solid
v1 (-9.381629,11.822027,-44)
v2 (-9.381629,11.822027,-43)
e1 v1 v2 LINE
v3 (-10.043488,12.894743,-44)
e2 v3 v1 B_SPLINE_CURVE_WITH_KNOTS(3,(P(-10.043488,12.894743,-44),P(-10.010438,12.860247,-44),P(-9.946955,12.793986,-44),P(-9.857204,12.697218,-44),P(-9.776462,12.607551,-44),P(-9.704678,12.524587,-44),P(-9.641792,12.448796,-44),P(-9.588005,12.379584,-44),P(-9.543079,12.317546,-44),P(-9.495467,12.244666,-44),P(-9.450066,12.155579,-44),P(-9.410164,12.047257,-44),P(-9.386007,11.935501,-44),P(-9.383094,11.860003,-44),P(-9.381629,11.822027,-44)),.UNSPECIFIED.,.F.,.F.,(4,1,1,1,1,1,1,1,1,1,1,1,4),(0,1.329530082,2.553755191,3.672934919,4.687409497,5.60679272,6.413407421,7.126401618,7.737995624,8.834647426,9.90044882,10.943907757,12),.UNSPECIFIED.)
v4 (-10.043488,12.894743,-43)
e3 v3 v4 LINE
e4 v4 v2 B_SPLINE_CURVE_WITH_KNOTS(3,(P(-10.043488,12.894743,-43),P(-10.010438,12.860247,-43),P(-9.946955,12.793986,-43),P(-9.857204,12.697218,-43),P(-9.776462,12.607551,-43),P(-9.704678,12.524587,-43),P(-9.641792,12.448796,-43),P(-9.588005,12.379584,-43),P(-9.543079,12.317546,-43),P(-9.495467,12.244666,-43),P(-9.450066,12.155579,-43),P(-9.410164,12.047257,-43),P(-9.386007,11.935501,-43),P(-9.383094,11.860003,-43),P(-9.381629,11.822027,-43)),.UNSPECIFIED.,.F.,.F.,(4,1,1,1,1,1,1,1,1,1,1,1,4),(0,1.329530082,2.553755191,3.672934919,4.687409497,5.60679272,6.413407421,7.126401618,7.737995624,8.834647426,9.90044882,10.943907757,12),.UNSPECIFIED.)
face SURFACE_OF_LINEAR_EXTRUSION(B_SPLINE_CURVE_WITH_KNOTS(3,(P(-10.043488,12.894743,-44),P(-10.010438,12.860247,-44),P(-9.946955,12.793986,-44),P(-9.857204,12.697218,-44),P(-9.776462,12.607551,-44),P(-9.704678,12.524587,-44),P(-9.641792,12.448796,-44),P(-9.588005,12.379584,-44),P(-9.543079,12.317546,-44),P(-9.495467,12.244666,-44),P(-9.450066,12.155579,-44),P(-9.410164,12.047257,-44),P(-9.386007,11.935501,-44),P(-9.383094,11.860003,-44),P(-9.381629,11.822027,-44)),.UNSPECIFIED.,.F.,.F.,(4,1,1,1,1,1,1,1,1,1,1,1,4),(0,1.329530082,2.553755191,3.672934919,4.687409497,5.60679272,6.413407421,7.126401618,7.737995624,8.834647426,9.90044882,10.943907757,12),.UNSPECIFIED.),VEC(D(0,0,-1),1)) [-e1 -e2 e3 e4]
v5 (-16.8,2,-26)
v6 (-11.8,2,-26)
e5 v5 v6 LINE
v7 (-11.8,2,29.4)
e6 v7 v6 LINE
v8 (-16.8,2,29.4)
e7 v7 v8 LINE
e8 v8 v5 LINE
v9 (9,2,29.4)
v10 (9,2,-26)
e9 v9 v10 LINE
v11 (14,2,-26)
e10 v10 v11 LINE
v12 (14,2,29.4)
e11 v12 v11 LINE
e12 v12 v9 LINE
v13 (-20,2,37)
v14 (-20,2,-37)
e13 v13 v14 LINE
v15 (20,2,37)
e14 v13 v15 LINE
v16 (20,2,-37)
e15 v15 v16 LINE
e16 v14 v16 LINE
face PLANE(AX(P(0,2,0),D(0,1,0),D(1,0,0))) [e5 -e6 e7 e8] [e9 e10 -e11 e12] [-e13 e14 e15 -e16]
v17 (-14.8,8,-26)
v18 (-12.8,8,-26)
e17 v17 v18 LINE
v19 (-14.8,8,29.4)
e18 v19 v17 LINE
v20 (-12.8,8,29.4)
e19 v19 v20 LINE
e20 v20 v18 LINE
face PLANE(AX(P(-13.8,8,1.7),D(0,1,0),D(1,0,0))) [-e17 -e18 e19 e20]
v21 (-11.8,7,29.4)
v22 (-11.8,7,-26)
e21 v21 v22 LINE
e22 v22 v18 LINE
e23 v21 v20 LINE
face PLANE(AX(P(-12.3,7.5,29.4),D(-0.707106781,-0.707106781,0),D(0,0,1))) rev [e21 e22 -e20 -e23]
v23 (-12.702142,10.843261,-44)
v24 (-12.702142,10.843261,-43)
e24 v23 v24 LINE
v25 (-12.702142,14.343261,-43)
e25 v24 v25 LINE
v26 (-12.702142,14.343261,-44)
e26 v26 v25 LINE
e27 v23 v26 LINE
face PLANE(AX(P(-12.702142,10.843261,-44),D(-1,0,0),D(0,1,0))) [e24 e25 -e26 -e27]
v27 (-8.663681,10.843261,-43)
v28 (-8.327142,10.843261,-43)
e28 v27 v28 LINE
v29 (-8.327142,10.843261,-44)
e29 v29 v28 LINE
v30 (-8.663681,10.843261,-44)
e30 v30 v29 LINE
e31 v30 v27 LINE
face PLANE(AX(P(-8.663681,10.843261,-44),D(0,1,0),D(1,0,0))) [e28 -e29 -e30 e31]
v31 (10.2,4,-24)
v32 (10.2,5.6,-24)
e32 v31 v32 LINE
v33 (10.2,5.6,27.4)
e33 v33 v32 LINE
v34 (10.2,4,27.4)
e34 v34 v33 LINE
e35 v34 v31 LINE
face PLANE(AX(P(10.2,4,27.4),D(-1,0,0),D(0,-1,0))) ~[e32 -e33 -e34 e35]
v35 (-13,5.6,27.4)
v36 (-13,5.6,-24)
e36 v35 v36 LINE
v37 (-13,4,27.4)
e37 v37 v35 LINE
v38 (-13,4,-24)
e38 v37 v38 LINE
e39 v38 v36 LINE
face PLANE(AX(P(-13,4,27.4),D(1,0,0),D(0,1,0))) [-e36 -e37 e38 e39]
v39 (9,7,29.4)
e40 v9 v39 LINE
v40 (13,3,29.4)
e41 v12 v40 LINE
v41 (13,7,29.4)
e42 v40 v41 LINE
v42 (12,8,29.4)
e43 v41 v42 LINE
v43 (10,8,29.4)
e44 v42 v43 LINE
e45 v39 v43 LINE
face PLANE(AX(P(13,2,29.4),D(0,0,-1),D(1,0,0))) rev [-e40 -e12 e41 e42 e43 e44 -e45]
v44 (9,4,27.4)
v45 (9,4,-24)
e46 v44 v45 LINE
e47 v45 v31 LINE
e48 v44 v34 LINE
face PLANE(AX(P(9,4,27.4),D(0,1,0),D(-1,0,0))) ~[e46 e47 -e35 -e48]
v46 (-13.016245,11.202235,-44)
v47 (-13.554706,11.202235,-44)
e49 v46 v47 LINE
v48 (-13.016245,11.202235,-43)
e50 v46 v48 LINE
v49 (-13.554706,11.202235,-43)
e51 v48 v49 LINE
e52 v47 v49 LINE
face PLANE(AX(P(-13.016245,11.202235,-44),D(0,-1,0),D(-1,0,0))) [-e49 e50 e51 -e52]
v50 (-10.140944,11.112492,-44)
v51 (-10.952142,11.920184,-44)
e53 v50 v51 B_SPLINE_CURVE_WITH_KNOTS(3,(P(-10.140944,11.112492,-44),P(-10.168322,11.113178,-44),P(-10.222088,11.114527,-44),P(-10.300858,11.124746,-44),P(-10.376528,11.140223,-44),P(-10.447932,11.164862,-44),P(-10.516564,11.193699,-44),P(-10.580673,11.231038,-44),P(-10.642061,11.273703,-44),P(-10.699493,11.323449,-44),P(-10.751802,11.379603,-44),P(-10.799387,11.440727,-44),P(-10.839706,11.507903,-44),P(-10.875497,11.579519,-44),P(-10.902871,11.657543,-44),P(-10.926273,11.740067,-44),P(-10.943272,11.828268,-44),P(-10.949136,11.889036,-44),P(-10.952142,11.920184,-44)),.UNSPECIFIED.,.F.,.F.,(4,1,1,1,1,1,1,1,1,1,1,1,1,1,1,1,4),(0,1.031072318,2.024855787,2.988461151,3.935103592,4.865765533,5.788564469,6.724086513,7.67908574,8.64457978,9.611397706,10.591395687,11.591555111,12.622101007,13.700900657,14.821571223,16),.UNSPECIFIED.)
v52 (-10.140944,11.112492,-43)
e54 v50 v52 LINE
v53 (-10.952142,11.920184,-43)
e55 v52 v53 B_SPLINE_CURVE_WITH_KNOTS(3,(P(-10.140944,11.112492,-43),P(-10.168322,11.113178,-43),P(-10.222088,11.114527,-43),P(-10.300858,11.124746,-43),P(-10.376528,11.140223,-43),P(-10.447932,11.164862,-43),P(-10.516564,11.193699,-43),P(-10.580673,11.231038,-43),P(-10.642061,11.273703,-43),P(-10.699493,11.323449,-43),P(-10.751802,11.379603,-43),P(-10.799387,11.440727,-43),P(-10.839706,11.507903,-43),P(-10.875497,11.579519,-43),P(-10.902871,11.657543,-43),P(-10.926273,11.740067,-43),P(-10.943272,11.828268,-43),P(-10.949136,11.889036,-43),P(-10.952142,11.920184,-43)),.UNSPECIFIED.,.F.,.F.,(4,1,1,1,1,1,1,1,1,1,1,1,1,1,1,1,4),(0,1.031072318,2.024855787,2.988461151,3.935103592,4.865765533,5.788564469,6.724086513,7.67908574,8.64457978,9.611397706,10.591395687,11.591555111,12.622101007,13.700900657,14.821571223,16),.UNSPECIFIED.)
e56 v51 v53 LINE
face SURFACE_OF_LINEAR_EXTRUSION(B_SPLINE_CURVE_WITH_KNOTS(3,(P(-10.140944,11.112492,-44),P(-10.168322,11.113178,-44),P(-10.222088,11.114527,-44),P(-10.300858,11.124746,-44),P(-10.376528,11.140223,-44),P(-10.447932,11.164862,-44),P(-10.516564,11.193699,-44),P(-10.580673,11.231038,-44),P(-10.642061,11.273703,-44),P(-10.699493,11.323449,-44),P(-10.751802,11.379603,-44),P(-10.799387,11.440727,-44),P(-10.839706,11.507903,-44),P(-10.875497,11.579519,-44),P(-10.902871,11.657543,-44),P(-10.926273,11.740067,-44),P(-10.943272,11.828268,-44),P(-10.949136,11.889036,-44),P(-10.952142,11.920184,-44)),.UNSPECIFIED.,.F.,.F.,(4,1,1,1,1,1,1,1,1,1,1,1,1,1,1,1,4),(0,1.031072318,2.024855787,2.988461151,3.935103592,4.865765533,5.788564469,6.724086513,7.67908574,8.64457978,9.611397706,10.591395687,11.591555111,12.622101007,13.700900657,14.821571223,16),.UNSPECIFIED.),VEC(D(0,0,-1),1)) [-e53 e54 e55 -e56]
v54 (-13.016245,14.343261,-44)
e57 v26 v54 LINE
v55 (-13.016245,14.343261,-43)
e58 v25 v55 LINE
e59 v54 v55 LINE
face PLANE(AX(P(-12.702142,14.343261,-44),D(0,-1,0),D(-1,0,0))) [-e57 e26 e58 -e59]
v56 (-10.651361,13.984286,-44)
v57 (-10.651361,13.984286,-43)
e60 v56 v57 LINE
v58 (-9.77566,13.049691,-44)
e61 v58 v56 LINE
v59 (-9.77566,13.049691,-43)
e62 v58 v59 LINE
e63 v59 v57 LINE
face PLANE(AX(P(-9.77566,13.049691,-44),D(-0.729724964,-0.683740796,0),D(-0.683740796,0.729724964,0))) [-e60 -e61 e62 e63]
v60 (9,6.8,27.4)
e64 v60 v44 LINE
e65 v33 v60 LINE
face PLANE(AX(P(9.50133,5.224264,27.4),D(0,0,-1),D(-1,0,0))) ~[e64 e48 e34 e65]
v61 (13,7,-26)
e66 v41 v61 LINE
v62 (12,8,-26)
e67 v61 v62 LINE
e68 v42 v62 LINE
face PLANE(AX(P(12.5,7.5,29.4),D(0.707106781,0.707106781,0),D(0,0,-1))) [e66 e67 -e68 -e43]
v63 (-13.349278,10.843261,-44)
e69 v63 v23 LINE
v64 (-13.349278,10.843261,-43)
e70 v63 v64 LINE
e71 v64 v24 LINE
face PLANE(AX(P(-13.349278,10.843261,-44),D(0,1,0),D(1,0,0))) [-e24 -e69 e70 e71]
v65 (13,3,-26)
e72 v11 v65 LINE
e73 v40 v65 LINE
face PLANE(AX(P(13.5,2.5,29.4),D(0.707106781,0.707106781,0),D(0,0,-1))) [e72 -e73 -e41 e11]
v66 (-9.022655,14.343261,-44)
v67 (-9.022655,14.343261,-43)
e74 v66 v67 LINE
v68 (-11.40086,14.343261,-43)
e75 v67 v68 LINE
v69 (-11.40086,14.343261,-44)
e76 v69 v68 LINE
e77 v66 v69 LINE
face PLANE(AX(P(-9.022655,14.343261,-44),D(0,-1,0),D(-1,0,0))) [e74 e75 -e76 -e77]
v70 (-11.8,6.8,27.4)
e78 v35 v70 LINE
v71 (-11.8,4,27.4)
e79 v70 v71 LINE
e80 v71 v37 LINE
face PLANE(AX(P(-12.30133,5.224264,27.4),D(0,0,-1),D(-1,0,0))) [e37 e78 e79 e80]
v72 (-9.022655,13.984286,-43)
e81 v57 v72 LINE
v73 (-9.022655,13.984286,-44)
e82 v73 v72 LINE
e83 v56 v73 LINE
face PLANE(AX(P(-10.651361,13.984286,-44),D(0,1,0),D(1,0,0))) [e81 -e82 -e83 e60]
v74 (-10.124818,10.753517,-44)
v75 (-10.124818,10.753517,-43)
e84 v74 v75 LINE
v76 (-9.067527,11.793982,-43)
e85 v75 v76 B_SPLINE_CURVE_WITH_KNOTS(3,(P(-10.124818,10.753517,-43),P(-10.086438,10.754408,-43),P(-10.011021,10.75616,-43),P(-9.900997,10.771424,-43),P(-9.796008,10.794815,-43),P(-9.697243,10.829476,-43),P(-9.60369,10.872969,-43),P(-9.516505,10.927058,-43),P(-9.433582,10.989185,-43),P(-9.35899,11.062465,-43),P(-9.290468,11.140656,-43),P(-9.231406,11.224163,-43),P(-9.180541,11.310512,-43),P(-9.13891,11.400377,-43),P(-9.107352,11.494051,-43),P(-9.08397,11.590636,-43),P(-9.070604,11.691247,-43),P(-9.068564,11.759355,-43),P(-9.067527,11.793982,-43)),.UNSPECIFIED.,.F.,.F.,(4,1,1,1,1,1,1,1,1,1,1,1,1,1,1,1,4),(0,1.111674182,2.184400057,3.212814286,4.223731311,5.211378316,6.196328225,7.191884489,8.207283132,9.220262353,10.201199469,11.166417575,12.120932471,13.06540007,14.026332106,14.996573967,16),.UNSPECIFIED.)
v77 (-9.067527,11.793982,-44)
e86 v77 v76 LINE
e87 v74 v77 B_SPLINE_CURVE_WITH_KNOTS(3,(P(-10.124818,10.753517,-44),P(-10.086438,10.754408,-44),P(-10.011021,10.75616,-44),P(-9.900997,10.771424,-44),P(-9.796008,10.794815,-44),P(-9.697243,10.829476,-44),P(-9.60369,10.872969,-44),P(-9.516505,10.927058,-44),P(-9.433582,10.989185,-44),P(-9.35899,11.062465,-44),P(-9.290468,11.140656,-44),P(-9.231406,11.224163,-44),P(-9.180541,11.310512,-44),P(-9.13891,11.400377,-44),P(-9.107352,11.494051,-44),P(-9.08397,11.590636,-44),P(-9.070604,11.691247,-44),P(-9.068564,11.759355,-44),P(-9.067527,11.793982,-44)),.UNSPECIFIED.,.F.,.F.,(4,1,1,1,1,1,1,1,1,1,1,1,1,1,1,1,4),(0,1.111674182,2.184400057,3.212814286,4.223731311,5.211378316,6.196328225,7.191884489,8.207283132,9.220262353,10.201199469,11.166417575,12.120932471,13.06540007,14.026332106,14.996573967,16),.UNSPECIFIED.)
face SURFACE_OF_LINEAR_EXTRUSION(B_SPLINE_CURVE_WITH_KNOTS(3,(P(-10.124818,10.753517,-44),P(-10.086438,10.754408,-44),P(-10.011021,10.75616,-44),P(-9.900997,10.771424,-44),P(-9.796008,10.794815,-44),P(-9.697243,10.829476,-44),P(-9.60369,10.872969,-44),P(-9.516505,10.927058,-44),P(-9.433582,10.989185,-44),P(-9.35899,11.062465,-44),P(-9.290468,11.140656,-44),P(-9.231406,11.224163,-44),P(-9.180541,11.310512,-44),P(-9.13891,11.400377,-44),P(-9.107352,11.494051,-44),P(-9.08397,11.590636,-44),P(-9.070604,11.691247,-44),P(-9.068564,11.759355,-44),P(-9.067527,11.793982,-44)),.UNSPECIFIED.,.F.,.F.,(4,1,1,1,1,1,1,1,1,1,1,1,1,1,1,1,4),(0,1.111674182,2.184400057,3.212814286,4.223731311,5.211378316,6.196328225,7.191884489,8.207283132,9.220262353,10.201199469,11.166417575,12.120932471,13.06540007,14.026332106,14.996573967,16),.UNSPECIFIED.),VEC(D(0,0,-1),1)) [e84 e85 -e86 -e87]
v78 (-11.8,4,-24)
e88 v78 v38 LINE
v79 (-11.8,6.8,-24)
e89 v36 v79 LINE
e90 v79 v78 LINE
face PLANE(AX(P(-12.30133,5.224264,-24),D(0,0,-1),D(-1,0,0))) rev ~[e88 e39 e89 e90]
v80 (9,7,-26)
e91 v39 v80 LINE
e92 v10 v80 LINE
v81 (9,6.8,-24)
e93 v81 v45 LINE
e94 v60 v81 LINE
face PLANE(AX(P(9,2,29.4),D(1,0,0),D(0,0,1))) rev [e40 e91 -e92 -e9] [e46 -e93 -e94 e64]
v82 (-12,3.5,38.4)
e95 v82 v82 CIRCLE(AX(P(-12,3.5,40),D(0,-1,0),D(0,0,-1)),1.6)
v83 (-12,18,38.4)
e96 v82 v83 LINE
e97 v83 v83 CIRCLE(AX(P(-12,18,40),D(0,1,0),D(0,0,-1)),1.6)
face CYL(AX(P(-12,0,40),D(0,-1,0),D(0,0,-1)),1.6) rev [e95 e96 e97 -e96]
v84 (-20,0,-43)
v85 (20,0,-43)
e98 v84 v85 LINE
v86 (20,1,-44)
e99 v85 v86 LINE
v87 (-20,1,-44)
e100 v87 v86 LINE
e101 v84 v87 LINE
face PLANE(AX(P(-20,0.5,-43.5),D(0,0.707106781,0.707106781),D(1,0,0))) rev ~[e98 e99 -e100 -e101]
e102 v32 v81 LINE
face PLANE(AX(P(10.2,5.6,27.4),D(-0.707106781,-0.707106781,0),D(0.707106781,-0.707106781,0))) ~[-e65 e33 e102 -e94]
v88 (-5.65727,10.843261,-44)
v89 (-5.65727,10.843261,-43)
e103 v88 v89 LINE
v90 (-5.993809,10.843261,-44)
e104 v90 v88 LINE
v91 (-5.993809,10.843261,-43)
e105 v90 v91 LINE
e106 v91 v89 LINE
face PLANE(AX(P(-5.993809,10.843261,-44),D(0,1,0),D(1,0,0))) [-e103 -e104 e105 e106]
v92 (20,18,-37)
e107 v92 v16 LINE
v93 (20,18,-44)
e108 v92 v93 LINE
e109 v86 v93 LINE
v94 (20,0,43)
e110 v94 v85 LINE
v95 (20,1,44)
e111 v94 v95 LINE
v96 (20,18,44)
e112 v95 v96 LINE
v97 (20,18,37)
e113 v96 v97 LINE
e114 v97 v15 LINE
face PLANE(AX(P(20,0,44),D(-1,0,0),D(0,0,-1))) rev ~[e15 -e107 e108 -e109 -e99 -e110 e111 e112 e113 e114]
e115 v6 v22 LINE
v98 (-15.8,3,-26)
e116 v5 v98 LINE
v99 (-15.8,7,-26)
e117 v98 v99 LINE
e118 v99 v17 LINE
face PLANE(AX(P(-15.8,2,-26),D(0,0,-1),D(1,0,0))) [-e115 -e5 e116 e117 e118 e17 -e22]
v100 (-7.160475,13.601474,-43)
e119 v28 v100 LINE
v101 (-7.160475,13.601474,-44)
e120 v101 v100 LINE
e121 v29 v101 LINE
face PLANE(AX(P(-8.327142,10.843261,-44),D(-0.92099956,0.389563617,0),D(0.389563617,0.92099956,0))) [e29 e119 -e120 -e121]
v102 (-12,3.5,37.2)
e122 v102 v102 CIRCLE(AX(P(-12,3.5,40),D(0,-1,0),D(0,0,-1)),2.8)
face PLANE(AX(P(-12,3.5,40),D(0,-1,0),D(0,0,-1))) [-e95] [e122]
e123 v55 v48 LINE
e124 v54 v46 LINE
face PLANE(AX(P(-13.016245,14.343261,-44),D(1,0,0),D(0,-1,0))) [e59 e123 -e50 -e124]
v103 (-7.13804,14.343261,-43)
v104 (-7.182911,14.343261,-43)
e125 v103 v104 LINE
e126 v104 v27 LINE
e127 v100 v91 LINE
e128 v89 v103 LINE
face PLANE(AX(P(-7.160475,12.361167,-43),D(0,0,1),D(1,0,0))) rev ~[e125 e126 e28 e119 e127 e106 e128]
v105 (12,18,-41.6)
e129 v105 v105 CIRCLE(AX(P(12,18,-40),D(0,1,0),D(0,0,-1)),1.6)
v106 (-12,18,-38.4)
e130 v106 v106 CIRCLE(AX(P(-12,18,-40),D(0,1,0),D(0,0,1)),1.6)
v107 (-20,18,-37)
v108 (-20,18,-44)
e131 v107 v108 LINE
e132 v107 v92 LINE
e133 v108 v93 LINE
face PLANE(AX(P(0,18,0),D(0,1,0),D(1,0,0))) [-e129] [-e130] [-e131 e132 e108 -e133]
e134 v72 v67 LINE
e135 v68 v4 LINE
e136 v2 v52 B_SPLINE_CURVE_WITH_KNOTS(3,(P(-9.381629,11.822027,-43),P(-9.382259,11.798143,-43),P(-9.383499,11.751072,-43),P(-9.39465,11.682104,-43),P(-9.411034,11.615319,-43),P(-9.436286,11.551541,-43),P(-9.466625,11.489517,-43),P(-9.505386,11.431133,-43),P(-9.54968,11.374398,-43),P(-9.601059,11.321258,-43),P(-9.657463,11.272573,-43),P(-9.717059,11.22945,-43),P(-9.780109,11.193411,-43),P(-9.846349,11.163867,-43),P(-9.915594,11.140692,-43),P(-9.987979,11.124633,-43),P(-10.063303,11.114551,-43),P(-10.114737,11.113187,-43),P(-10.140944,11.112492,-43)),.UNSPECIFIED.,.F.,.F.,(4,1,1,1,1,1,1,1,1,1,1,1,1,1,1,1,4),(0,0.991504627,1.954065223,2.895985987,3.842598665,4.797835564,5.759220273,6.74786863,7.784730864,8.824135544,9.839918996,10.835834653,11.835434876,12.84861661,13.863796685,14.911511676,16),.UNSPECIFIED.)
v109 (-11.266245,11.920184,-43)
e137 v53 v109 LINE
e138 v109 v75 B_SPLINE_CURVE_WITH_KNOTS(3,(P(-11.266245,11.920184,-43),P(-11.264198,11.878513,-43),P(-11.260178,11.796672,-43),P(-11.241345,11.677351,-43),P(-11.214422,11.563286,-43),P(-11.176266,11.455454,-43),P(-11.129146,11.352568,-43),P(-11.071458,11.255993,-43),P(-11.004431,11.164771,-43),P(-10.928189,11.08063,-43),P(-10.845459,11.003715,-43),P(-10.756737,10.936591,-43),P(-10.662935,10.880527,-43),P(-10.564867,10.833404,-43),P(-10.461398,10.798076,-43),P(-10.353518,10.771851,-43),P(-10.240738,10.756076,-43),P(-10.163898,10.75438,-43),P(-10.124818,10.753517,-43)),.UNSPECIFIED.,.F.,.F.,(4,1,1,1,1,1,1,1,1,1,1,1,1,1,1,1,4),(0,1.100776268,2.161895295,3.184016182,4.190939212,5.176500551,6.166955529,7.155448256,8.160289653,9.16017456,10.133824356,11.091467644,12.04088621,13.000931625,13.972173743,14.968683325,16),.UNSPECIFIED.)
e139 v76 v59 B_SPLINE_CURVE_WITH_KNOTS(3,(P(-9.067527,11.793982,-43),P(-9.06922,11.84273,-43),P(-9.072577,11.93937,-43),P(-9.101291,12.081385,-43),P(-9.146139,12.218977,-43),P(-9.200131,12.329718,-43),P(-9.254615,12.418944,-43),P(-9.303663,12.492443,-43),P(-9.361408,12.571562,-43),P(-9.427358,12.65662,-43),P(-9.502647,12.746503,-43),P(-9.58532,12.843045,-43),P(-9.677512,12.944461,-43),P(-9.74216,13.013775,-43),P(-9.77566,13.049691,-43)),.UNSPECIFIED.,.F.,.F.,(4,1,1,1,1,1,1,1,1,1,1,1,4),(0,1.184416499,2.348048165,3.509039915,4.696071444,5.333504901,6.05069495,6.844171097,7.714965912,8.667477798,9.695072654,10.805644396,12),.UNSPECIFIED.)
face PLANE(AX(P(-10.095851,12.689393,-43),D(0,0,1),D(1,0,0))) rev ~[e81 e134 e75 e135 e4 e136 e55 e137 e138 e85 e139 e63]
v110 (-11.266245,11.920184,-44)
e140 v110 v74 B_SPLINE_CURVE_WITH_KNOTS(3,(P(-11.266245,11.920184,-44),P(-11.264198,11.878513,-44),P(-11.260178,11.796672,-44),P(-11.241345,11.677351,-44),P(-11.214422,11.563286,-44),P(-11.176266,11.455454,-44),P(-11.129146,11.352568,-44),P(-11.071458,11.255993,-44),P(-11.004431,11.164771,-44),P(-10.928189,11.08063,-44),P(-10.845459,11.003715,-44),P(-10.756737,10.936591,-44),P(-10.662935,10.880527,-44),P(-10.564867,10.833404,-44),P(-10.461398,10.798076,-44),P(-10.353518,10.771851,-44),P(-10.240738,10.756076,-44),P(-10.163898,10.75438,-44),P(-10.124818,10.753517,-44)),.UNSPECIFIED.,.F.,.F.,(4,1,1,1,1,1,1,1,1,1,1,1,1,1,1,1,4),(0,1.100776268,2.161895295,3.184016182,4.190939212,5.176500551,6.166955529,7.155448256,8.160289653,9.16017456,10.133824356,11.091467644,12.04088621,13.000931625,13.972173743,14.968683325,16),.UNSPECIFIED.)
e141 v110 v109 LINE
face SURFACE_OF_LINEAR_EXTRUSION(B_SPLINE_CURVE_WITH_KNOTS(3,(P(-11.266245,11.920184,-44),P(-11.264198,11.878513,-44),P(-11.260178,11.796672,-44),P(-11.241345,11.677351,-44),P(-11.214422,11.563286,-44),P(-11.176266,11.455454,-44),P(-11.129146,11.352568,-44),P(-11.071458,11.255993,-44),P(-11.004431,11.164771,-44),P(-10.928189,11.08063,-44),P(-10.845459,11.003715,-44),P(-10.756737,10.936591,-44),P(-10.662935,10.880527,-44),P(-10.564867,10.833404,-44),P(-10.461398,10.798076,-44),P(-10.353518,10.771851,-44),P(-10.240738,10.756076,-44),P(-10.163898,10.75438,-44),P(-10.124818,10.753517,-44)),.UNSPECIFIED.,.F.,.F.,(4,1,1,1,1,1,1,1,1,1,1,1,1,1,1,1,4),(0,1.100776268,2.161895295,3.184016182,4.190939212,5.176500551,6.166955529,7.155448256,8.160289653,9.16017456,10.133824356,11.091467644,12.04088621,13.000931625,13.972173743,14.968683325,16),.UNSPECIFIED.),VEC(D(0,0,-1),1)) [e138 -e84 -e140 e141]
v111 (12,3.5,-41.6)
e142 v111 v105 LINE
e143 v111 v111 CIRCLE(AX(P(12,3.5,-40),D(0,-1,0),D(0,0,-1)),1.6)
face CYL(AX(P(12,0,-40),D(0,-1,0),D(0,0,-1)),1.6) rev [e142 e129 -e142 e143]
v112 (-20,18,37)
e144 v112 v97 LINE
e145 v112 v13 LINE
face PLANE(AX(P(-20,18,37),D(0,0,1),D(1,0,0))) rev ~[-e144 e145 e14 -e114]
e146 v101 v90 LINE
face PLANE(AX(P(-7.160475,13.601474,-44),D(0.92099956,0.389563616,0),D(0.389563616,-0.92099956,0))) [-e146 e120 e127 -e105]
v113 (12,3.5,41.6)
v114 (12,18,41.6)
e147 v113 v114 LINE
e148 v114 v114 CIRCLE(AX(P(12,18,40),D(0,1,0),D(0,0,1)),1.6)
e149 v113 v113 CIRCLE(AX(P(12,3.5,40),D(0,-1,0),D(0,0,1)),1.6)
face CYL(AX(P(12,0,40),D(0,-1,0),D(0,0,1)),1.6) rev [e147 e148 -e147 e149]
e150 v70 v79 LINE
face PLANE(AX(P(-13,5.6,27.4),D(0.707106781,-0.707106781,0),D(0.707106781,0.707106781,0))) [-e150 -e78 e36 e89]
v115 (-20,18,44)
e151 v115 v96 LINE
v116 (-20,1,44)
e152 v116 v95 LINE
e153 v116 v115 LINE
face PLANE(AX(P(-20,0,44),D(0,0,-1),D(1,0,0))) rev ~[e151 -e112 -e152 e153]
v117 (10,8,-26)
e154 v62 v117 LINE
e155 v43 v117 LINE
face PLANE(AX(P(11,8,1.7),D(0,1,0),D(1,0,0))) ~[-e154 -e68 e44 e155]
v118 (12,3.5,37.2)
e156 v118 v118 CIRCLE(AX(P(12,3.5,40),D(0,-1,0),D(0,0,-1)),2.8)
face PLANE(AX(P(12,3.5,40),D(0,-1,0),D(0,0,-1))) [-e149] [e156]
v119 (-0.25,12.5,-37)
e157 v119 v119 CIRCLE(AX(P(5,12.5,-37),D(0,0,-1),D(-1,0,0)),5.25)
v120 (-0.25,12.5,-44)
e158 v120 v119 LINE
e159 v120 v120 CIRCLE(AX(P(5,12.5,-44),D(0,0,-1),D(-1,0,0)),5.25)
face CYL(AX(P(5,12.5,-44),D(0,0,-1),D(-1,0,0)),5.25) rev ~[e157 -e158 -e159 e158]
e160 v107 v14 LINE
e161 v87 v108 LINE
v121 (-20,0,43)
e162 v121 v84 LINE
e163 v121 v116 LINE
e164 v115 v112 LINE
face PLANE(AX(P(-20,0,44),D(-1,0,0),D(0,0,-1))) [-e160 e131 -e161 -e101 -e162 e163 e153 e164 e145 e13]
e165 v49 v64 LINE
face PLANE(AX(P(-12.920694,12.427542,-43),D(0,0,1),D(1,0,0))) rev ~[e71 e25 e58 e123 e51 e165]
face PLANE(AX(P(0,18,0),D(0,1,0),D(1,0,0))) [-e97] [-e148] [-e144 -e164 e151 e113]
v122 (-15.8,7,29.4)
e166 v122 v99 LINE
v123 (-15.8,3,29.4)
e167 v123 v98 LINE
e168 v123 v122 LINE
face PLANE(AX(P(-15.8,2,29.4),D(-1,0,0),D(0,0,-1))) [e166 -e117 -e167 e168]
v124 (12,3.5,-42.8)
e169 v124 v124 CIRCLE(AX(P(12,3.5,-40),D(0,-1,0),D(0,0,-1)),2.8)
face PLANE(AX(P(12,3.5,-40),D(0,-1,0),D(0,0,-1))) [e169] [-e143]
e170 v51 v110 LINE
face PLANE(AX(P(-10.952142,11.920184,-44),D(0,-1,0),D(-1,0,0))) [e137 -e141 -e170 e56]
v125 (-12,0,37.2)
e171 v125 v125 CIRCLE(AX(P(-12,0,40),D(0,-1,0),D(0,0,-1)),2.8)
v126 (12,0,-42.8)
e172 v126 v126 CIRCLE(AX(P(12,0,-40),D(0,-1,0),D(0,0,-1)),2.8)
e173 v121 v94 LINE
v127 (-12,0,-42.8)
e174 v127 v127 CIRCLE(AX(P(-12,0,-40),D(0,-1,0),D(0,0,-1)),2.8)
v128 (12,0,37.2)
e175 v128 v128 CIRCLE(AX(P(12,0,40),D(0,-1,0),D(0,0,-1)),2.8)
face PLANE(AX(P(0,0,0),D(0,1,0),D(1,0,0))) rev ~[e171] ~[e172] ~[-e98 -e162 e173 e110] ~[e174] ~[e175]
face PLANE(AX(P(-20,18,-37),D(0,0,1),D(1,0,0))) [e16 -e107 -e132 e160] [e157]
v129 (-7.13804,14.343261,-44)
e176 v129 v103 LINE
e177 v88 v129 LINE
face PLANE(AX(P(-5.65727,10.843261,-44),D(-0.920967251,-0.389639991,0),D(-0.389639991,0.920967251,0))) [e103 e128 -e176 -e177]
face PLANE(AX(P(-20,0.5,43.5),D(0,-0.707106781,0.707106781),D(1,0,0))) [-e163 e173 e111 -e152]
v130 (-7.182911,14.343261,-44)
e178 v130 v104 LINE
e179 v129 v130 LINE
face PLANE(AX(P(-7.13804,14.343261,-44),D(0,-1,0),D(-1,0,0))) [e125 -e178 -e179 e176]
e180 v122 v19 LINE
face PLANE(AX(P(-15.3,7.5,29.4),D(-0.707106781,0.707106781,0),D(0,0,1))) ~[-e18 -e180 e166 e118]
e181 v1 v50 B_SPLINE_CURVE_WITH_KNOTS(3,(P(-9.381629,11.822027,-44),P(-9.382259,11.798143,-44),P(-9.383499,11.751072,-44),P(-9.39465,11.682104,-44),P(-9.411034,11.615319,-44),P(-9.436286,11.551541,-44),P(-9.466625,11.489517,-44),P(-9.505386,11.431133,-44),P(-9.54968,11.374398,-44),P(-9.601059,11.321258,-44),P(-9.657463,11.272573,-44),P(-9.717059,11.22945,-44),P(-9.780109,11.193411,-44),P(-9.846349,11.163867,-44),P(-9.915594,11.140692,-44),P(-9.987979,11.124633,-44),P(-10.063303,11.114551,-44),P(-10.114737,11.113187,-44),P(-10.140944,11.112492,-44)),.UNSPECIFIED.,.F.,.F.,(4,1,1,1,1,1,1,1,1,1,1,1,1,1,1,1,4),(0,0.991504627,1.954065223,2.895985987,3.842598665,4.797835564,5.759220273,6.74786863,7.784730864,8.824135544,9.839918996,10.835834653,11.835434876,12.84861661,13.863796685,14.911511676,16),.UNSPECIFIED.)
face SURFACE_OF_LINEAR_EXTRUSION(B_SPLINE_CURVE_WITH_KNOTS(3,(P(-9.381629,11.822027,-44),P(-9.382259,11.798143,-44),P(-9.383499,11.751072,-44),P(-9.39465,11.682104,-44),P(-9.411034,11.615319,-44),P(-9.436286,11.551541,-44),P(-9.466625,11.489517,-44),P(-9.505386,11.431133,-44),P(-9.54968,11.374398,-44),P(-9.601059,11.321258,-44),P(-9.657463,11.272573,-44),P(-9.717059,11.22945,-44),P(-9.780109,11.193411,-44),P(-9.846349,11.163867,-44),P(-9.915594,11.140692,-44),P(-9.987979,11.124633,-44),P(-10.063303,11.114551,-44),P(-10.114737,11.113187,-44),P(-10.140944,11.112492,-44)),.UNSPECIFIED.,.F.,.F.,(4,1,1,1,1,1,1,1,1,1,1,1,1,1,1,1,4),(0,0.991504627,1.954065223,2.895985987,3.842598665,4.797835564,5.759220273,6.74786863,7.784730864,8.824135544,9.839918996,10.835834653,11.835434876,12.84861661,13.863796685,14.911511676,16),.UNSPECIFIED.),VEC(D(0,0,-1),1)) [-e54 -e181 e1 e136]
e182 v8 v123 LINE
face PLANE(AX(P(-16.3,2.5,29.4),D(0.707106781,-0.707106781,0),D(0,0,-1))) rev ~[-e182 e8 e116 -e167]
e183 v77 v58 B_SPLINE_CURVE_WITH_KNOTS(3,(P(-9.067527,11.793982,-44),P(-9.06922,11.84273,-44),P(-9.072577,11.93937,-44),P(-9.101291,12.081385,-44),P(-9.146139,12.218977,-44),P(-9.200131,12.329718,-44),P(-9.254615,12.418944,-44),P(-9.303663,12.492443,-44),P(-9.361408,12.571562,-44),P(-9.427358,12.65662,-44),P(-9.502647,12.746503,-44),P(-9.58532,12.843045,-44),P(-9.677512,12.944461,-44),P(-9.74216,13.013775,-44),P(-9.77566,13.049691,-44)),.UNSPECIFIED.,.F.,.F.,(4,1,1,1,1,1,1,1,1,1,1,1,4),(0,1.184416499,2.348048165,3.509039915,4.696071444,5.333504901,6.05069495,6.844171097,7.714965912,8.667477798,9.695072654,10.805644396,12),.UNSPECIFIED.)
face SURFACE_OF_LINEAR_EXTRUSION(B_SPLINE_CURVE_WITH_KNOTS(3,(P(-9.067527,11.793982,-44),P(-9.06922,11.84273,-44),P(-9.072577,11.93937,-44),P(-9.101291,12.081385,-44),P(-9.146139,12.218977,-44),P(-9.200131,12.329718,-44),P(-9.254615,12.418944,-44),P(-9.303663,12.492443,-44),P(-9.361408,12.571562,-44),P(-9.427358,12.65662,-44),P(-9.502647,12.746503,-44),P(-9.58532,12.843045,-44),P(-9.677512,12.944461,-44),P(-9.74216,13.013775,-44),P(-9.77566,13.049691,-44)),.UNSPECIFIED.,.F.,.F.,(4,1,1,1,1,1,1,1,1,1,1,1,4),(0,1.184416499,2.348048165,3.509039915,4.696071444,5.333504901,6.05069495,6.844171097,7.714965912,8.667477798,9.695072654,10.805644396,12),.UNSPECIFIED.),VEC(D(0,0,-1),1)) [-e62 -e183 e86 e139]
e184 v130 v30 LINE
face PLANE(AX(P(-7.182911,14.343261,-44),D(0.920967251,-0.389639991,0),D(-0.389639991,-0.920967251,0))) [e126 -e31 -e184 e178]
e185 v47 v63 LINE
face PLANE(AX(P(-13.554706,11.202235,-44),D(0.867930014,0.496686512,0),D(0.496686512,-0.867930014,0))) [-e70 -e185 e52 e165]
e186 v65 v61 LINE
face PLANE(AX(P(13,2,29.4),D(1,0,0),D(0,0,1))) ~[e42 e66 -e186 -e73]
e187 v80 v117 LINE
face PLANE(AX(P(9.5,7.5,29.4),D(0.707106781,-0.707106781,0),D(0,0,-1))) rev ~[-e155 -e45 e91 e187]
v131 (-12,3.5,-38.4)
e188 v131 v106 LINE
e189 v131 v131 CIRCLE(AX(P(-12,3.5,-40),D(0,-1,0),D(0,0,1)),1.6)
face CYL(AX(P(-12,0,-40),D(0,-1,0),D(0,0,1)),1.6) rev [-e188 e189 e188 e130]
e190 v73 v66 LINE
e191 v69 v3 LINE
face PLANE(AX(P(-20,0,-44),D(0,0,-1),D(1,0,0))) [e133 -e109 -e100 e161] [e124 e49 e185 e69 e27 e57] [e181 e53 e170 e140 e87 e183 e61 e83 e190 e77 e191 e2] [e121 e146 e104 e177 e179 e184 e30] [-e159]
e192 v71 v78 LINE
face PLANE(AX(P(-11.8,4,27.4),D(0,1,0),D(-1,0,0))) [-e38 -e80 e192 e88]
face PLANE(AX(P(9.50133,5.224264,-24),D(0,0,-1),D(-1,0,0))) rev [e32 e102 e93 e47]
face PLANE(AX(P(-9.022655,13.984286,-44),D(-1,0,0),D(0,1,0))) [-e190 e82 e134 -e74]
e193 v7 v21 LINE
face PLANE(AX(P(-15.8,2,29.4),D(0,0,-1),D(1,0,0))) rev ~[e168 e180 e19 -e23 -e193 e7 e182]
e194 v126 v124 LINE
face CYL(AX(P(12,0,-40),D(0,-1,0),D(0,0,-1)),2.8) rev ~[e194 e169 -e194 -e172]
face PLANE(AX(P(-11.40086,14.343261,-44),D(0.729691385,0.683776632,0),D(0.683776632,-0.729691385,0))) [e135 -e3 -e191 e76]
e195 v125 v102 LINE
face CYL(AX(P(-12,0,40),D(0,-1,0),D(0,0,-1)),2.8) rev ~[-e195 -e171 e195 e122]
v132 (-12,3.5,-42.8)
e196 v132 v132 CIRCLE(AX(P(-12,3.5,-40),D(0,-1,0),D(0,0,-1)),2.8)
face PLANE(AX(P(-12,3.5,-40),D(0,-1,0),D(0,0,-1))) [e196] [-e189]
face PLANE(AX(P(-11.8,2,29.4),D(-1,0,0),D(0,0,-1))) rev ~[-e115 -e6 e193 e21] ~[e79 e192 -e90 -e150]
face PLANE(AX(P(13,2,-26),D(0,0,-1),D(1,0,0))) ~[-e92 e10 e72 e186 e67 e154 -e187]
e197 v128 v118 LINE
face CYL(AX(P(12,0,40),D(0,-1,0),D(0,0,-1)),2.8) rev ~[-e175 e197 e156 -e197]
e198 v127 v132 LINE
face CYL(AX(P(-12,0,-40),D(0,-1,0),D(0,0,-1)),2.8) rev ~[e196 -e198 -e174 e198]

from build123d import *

# Parameters (mm, degrees)
CROQUIS1_W              = 40
CROQUIS1_H              = 88
CROQUIS1_R              = 1.6
SALIENTE_EXTRUIR1_DEPTH = 18
CROQUIS3_W              = 40
CROQUIS3_H              = 74
CORTAR_EXTRUIR1_DEPTH   = 16
CROQUIS4_W              = 4
CROQUIS4_H              = 55.4
SALIENTE_EXTRUIR2_DEPTH = 6
CORTAR_EXTRUIR2_START   = -2
CORTAR_EXTRUIR2_DEPTH   = 51.4
CORTAR_EXTRUIR3_REACH   = 94.022
CROQUIS6_R              = 5.25
CHAFL_N1_SIZE           = 1
CORTAR_EXTRUIR4_DEPTH   = 1
CHAFL_N2_SIZE           = 1
CROQUIS8_R              = 2.8
CORTAR_EXTRUIR5_DEPTH   = 3.5


with BuildPart() as part:
    # Croquis1 → Saliente-Extruir1 (new body)
    with BuildSketch(Plane(origin=(0, 0, 0), x_dir=(1, 0, 0), z_dir=(0, 1, 0))):
        Rectangle(CROQUIS1_W, CROQUIS1_H)
        with Locations(Location((-12, 40, 0), (0, 0, 270))):
            Circle(CROQUIS1_R, mode=Mode.SUBTRACT)
        with Locations(Location((12, 40, 0), (0, 0, 90))):
            Circle(CROQUIS1_R, mode=Mode.SUBTRACT)
        with Locations(Location((-12, -40, 0), (0, 0, 90))):
            Circle(CROQUIS1_R, mode=Mode.SUBTRACT)
        with Locations(Location((12, -40, 0), (0, 0, 270))):
            Circle(CROQUIS1_R, mode=Mode.SUBTRACT)
    extrude(amount=SALIENTE_EXTRUIR1_DEPTH)

    # Croquis3 → Cortar-Extruir1 (cut)
    with BuildSketch(Plane(origin=(0, 18, 0), x_dir=(1, 0, 0), z_dir=(0, 1, 0))):
        Rectangle(CROQUIS3_W, CROQUIS3_H)
    extrude(amount=-CORTAR_EXTRUIR1_DEPTH, mode=Mode.SUBTRACT)

    # Croquis4 → Saliente-Extruir2 (add)
    with BuildSketch(Plane(origin=(0, 2, 0), x_dir=(1, 0, 0), z_dir=(0, 1, 0))):
        with Locations((-13.8, -1.7)):
            Rectangle(CROQUIS4_W, CROQUIS4_H)
    saliente_extruir2 = extrude(amount=SALIENTE_EXTRUIR2_DEPTH)

    # Croquis5 → Cortar-Extruir2 (cut)
    with BuildSketch(Plane.XY.offset(29.4).offset(CORTAR_EXTRUIR2_START)):
        Polygon((-11.8, 4), (-13, 4), (-13, 5.6), (-11.8, 6.8), align=None)
    cortar_extruir2 = extrude(amount=-CORTAR_EXTRUIR2_DEPTH, mode=Mode.SUBTRACT)

    # Simetría1: Saliente-Extruir2, Cortar-Extruir2 across plane
    add(saliente_extruir2.mirror(Plane(origin=(-1.4, 0, 0), x_dir=(0, 0, 1), z_dir=(1, 0, 0))))
    add(cortar_extruir2.mirror(Plane(origin=(-1.4, 0, 0), x_dir=(0, 0, 1), z_dir=(1, 0, 0))), mode=Mode.SUBTRACT)

    # Croquis6 → Cortar-Extruir3 (cut, up to next)
    with BuildSketch(Plane(origin=(0, 0, -44), x_dir=(-1, 0, 0), z_dir=(0, 0, -1)), mode=Mode.PRIVATE) as cortar_extruir3_sk1:
        with Locations((-5, 12.5)):
            Circle(CROQUIS6_R)
    cortar_extruir3_tool1 = extrude(cortar_extruir3_sk1.sketch, amount=-CORTAR_EXTRUIR3_REACH, mode=Mode.PRIVATE) & part.part
    add(cortar_extruir3_tool1.solids().sort_by_distance((5, 12.5, -44))[0], mode=Mode.SUBTRACT)

    # Chaflán1
    chafl_n1_edges = [part.edges().sort_by_distance(p)[0] for p in [
        (-15.8, 2, 1.7),
        (-15.8, 8, 1.7),
        (-11.8, 8, 1.7),
        (13, 8, 1.7),
        (9, 8, 1.7),
        (13, 2, 1.7),
    ]]
    chamfer(chafl_n1_edges, length=CHAFL_N1_SIZE)

    # Croquis7 → Cortar-Extruir4 (cut)
    with BuildSketch(Plane(origin=(0, 0, -44), x_dir=(-1, 0, 0), z_dir=(0, 0, -1))):
        Polygon((13.349277552, 10.843260825), (12.702142135, 10.843260825), (12.702142135, 14.343260825), (13.016244699, 14.343260825), (13.016244699, 11.202235184), (13.554706238, 11.202235184), align=None)
        with BuildLine():
            Line((10.952142135, 11.920183902), (11.266244699, 11.920183902))
            add(Edge.make_bspline(
                [(11.266244699, 11.920183902), (11.264197895, 11.878512809), (11.260178025, 11.796671891), (11.241344805, 11.677350891), (11.214421773, 11.563285573), (11.176265555, 11.455453837), (11.12914596, 11.352567543), (11.07145794, 11.255992901), (11.004431311, 11.16477142), (10.928189034, 11.080630224), (10.845459137, 11.003714652), (10.756737301, 10.936591237), (10.662935418, 10.880527385), (10.564867085, 10.833404425), (10.461398114, 10.79807587), (10.353517551, 10.771851148), (10.240737789, 10.756075643), (10.163897853, 10.754379741), (10.124818417, 10.753517236)],
                knots=[0, 0, 0, 0, 1.100776268, 2.161895295, 3.184016182, 4.190939212, 5.176500551, 6.166955529, 7.155448256, 8.160289653, 9.16017456, 10.133824356, 11.091467644, 12.04088621, 13.000931625, 13.972173743, 14.968683325, 16, 16, 16, 16], degree=3))
            add(Edge.make_bspline(
                [(10.124818417, 10.753517236), (10.086437642, 10.754408401), (10.01102079, 10.756159509), (9.900996983, 10.771423682), (9.796007884, 10.794814665), (9.697243334, 10.829476418), (9.60368973, 10.872969336), (9.516505422, 10.927058477), (9.433582202, 10.989184526), (9.358989797, 11.062465248), (9.290467674, 11.140655962), (9.231405748, 11.224162988), (9.180541152, 11.310511825), (9.138910069, 11.400376981), (9.107351857, 11.494051102), (9.083970246, 11.590636102), (9.070604054, 11.691246638), (9.068563952, 11.759355152), (9.06752675, 11.793981979)],
                knots=[0, 0, 0, 0, 1.111674182, 2.184400057, 3.212814286, 4.223731311, 5.211378316, 6.196328225, 7.191884489, 8.207283132, 9.220262353, 10.201199469, 11.166417575, 12.120932471, 13.06540007, 14.026332106, 14.996573967, 16, 16, 16, 16], degree=3))
            add(Edge.make_bspline(
                [(9.06752675, 11.793981979), (9.06922004, 11.842729793), (9.072576904, 11.939369965), (9.10129089, 12.081385135), (9.146138886, 12.218977383), (9.200131458, 12.32971846), (9.254614612, 12.418943506), (9.303662739, 12.492443272), (9.36140823, 12.571561933), (9.427357734, 12.656619722), (9.502646994, 12.746502735), (9.585320007, 12.843044827), (9.67751183, 12.944460868), (9.742160462, 13.013774517), (9.775659763, 13.049691114)],
                knots=[0, 0, 0, 0, 1.184416499, 2.348048165, 3.509039915, 4.696071444, 5.333504901, 6.05069495, 6.844171097, 7.714965912, 8.667477798, 9.695072654, 10.805644396, 12, 12, 12, 12], degree=3))
            Line((9.775659763, 13.049691114), (10.651360885, 13.984286466))
            Line((10.651360885, 13.984286466), (9.022654955, 13.984286466))
            Line((9.022654955, 13.984286466), (9.022654955, 14.343260825))
            Line((9.022654955, 14.343260825), (11.400860084, 14.343260825))
            Line((11.400860084, 14.343260825), (10.043488289, 12.894743197))
            add(Edge.make_bspline(
                [(10.043488289, 12.894743197), (10.010438062, 12.860246772), (9.946955341, 12.7939862), (9.857203547, 12.697218484), (9.776462338, 12.607551149), (9.704678153, 12.524586855), (9.641791929, 12.448795933), (9.588004874, 12.379584429), (9.543079259, 12.317546294), (9.495467468, 12.244666486), (9.450066467, 12.155578956), (9.410163632, 12.047256962), (9.386006998, 11.935501368), (9.383094384, 11.860003118), (9.381629314, 11.822026851)],
                knots=[0, 0, 0, 0, 1.329530082, 2.553755191, 3.672934919, 4.687409497, 5.60679272, 6.413407421, 7.126401618, 7.737995624, 8.834647426, 9.90044882, 10.943907757, 12, 12, 12, 12], degree=3))
            add(Edge.make_bspline(
                [(9.381629314, 11.822026851), (9.382258526, 11.798142814), (9.383498582, 11.751071962), (9.394649978, 11.682104068), (9.411033592, 11.615318538), (9.436285803, 11.551541126), (9.466625403, 11.489517454), (9.505386481, 11.431133235), (9.549680213, 11.374398292), (9.601058771, 11.321258018), (9.65746288, 11.272573276), (9.717059065, 11.229450114), (9.780108664, 11.193410762), (9.846348922, 11.16386733), (9.915594355, 11.140691931), (9.98797911, 11.124633356), (10.063303123, 11.114550871), (10.114736619, 11.113186699), (10.140944218, 11.112491595)],
                knots=[0, 0, 0, 0, 0.991504627, 1.954065223, 2.895985987, 3.842598665, 4.797835564, 5.759220273, 6.74786863, 7.784730864, 8.824135544, 9.839918996, 10.835834653, 11.835434876, 12.84861661, 13.863796685, 14.911511676, 16, 16, 16, 16], degree=3))
            add(Edge.make_bspline(
                [(10.140944218, 11.112491595), (10.168322043, 11.113178196), (10.222087569, 11.114526567), (10.300857634, 11.124746109), (10.376527654, 11.140223083), (10.447931577, 11.1648623), (10.516563758, 11.193699284), (10.580673358, 11.231038105), (10.642061294, 11.273703483), (10.699493344, 11.323448604), (10.75180153, 11.379603353), (10.799386756, 11.440726805), (10.839706189, 11.507902554), (10.875497343, 11.5795187), (10.90287051, 11.657542834), (10.926272606, 11.740066779), (10.943271549, 11.82826796), (10.949136163, 11.889036378), (10.952142135, 11.920183902)],
                knots=[0, 0, 0, 0, 1.031072318, 2.024855787, 2.988461151, 3.935103592, 4.865765533, 5.788564469, 6.724086513, 7.67908574, 8.64457978, 9.611397706, 10.591395687, 11.591555111, 12.622101007, 13.700900657, 14.821571223, 16, 16, 16, 16], degree=3))
        make_face()
        Polygon((8.663680597, 10.843260825), (8.327142135, 10.843260825), (7.160475468, 13.601473966), (5.993808802, 10.843260825), (5.65727034, 10.843260825), (7.138039571, 14.343260825), (7.182911366, 14.343260825), align=None)
    extrude(amount=-CORTAR_EXTRUIR4_DEPTH, mode=Mode.SUBTRACT)

    # Chaflán2
    chafl_n2_edges = [part.edges().sort_by_distance(p)[0] for p in [
        (0, 0, 44),
        (0, 0, -44),
    ]]
    chamfer(chafl_n2_edges, length=CHAFL_N2_SIZE)

    # Croquis8 → Cortar-Extruir5 (cut)
    with BuildSketch(Plane.XZ):
        with Locations(Location((-12, 40, 0), (0, 0, 270))):
            Circle(CROQUIS8_R)
        with Locations(Location((12, 40, 0), (0, 0, 270))):
            Circle(CROQUIS8_R)
        with Locations(Location((-12, -40, 0), (0, 0, 270))):
            Circle(CROQUIS8_R)
        with Locations(Location((12, -40, 0), (0, 0, 270))):
            Circle(CROQUIS8_R)
    extrude(amount=-CORTAR_EXTRUIR5_DEPTH, mode=Mode.SUBTRACT)


solid = part.part
